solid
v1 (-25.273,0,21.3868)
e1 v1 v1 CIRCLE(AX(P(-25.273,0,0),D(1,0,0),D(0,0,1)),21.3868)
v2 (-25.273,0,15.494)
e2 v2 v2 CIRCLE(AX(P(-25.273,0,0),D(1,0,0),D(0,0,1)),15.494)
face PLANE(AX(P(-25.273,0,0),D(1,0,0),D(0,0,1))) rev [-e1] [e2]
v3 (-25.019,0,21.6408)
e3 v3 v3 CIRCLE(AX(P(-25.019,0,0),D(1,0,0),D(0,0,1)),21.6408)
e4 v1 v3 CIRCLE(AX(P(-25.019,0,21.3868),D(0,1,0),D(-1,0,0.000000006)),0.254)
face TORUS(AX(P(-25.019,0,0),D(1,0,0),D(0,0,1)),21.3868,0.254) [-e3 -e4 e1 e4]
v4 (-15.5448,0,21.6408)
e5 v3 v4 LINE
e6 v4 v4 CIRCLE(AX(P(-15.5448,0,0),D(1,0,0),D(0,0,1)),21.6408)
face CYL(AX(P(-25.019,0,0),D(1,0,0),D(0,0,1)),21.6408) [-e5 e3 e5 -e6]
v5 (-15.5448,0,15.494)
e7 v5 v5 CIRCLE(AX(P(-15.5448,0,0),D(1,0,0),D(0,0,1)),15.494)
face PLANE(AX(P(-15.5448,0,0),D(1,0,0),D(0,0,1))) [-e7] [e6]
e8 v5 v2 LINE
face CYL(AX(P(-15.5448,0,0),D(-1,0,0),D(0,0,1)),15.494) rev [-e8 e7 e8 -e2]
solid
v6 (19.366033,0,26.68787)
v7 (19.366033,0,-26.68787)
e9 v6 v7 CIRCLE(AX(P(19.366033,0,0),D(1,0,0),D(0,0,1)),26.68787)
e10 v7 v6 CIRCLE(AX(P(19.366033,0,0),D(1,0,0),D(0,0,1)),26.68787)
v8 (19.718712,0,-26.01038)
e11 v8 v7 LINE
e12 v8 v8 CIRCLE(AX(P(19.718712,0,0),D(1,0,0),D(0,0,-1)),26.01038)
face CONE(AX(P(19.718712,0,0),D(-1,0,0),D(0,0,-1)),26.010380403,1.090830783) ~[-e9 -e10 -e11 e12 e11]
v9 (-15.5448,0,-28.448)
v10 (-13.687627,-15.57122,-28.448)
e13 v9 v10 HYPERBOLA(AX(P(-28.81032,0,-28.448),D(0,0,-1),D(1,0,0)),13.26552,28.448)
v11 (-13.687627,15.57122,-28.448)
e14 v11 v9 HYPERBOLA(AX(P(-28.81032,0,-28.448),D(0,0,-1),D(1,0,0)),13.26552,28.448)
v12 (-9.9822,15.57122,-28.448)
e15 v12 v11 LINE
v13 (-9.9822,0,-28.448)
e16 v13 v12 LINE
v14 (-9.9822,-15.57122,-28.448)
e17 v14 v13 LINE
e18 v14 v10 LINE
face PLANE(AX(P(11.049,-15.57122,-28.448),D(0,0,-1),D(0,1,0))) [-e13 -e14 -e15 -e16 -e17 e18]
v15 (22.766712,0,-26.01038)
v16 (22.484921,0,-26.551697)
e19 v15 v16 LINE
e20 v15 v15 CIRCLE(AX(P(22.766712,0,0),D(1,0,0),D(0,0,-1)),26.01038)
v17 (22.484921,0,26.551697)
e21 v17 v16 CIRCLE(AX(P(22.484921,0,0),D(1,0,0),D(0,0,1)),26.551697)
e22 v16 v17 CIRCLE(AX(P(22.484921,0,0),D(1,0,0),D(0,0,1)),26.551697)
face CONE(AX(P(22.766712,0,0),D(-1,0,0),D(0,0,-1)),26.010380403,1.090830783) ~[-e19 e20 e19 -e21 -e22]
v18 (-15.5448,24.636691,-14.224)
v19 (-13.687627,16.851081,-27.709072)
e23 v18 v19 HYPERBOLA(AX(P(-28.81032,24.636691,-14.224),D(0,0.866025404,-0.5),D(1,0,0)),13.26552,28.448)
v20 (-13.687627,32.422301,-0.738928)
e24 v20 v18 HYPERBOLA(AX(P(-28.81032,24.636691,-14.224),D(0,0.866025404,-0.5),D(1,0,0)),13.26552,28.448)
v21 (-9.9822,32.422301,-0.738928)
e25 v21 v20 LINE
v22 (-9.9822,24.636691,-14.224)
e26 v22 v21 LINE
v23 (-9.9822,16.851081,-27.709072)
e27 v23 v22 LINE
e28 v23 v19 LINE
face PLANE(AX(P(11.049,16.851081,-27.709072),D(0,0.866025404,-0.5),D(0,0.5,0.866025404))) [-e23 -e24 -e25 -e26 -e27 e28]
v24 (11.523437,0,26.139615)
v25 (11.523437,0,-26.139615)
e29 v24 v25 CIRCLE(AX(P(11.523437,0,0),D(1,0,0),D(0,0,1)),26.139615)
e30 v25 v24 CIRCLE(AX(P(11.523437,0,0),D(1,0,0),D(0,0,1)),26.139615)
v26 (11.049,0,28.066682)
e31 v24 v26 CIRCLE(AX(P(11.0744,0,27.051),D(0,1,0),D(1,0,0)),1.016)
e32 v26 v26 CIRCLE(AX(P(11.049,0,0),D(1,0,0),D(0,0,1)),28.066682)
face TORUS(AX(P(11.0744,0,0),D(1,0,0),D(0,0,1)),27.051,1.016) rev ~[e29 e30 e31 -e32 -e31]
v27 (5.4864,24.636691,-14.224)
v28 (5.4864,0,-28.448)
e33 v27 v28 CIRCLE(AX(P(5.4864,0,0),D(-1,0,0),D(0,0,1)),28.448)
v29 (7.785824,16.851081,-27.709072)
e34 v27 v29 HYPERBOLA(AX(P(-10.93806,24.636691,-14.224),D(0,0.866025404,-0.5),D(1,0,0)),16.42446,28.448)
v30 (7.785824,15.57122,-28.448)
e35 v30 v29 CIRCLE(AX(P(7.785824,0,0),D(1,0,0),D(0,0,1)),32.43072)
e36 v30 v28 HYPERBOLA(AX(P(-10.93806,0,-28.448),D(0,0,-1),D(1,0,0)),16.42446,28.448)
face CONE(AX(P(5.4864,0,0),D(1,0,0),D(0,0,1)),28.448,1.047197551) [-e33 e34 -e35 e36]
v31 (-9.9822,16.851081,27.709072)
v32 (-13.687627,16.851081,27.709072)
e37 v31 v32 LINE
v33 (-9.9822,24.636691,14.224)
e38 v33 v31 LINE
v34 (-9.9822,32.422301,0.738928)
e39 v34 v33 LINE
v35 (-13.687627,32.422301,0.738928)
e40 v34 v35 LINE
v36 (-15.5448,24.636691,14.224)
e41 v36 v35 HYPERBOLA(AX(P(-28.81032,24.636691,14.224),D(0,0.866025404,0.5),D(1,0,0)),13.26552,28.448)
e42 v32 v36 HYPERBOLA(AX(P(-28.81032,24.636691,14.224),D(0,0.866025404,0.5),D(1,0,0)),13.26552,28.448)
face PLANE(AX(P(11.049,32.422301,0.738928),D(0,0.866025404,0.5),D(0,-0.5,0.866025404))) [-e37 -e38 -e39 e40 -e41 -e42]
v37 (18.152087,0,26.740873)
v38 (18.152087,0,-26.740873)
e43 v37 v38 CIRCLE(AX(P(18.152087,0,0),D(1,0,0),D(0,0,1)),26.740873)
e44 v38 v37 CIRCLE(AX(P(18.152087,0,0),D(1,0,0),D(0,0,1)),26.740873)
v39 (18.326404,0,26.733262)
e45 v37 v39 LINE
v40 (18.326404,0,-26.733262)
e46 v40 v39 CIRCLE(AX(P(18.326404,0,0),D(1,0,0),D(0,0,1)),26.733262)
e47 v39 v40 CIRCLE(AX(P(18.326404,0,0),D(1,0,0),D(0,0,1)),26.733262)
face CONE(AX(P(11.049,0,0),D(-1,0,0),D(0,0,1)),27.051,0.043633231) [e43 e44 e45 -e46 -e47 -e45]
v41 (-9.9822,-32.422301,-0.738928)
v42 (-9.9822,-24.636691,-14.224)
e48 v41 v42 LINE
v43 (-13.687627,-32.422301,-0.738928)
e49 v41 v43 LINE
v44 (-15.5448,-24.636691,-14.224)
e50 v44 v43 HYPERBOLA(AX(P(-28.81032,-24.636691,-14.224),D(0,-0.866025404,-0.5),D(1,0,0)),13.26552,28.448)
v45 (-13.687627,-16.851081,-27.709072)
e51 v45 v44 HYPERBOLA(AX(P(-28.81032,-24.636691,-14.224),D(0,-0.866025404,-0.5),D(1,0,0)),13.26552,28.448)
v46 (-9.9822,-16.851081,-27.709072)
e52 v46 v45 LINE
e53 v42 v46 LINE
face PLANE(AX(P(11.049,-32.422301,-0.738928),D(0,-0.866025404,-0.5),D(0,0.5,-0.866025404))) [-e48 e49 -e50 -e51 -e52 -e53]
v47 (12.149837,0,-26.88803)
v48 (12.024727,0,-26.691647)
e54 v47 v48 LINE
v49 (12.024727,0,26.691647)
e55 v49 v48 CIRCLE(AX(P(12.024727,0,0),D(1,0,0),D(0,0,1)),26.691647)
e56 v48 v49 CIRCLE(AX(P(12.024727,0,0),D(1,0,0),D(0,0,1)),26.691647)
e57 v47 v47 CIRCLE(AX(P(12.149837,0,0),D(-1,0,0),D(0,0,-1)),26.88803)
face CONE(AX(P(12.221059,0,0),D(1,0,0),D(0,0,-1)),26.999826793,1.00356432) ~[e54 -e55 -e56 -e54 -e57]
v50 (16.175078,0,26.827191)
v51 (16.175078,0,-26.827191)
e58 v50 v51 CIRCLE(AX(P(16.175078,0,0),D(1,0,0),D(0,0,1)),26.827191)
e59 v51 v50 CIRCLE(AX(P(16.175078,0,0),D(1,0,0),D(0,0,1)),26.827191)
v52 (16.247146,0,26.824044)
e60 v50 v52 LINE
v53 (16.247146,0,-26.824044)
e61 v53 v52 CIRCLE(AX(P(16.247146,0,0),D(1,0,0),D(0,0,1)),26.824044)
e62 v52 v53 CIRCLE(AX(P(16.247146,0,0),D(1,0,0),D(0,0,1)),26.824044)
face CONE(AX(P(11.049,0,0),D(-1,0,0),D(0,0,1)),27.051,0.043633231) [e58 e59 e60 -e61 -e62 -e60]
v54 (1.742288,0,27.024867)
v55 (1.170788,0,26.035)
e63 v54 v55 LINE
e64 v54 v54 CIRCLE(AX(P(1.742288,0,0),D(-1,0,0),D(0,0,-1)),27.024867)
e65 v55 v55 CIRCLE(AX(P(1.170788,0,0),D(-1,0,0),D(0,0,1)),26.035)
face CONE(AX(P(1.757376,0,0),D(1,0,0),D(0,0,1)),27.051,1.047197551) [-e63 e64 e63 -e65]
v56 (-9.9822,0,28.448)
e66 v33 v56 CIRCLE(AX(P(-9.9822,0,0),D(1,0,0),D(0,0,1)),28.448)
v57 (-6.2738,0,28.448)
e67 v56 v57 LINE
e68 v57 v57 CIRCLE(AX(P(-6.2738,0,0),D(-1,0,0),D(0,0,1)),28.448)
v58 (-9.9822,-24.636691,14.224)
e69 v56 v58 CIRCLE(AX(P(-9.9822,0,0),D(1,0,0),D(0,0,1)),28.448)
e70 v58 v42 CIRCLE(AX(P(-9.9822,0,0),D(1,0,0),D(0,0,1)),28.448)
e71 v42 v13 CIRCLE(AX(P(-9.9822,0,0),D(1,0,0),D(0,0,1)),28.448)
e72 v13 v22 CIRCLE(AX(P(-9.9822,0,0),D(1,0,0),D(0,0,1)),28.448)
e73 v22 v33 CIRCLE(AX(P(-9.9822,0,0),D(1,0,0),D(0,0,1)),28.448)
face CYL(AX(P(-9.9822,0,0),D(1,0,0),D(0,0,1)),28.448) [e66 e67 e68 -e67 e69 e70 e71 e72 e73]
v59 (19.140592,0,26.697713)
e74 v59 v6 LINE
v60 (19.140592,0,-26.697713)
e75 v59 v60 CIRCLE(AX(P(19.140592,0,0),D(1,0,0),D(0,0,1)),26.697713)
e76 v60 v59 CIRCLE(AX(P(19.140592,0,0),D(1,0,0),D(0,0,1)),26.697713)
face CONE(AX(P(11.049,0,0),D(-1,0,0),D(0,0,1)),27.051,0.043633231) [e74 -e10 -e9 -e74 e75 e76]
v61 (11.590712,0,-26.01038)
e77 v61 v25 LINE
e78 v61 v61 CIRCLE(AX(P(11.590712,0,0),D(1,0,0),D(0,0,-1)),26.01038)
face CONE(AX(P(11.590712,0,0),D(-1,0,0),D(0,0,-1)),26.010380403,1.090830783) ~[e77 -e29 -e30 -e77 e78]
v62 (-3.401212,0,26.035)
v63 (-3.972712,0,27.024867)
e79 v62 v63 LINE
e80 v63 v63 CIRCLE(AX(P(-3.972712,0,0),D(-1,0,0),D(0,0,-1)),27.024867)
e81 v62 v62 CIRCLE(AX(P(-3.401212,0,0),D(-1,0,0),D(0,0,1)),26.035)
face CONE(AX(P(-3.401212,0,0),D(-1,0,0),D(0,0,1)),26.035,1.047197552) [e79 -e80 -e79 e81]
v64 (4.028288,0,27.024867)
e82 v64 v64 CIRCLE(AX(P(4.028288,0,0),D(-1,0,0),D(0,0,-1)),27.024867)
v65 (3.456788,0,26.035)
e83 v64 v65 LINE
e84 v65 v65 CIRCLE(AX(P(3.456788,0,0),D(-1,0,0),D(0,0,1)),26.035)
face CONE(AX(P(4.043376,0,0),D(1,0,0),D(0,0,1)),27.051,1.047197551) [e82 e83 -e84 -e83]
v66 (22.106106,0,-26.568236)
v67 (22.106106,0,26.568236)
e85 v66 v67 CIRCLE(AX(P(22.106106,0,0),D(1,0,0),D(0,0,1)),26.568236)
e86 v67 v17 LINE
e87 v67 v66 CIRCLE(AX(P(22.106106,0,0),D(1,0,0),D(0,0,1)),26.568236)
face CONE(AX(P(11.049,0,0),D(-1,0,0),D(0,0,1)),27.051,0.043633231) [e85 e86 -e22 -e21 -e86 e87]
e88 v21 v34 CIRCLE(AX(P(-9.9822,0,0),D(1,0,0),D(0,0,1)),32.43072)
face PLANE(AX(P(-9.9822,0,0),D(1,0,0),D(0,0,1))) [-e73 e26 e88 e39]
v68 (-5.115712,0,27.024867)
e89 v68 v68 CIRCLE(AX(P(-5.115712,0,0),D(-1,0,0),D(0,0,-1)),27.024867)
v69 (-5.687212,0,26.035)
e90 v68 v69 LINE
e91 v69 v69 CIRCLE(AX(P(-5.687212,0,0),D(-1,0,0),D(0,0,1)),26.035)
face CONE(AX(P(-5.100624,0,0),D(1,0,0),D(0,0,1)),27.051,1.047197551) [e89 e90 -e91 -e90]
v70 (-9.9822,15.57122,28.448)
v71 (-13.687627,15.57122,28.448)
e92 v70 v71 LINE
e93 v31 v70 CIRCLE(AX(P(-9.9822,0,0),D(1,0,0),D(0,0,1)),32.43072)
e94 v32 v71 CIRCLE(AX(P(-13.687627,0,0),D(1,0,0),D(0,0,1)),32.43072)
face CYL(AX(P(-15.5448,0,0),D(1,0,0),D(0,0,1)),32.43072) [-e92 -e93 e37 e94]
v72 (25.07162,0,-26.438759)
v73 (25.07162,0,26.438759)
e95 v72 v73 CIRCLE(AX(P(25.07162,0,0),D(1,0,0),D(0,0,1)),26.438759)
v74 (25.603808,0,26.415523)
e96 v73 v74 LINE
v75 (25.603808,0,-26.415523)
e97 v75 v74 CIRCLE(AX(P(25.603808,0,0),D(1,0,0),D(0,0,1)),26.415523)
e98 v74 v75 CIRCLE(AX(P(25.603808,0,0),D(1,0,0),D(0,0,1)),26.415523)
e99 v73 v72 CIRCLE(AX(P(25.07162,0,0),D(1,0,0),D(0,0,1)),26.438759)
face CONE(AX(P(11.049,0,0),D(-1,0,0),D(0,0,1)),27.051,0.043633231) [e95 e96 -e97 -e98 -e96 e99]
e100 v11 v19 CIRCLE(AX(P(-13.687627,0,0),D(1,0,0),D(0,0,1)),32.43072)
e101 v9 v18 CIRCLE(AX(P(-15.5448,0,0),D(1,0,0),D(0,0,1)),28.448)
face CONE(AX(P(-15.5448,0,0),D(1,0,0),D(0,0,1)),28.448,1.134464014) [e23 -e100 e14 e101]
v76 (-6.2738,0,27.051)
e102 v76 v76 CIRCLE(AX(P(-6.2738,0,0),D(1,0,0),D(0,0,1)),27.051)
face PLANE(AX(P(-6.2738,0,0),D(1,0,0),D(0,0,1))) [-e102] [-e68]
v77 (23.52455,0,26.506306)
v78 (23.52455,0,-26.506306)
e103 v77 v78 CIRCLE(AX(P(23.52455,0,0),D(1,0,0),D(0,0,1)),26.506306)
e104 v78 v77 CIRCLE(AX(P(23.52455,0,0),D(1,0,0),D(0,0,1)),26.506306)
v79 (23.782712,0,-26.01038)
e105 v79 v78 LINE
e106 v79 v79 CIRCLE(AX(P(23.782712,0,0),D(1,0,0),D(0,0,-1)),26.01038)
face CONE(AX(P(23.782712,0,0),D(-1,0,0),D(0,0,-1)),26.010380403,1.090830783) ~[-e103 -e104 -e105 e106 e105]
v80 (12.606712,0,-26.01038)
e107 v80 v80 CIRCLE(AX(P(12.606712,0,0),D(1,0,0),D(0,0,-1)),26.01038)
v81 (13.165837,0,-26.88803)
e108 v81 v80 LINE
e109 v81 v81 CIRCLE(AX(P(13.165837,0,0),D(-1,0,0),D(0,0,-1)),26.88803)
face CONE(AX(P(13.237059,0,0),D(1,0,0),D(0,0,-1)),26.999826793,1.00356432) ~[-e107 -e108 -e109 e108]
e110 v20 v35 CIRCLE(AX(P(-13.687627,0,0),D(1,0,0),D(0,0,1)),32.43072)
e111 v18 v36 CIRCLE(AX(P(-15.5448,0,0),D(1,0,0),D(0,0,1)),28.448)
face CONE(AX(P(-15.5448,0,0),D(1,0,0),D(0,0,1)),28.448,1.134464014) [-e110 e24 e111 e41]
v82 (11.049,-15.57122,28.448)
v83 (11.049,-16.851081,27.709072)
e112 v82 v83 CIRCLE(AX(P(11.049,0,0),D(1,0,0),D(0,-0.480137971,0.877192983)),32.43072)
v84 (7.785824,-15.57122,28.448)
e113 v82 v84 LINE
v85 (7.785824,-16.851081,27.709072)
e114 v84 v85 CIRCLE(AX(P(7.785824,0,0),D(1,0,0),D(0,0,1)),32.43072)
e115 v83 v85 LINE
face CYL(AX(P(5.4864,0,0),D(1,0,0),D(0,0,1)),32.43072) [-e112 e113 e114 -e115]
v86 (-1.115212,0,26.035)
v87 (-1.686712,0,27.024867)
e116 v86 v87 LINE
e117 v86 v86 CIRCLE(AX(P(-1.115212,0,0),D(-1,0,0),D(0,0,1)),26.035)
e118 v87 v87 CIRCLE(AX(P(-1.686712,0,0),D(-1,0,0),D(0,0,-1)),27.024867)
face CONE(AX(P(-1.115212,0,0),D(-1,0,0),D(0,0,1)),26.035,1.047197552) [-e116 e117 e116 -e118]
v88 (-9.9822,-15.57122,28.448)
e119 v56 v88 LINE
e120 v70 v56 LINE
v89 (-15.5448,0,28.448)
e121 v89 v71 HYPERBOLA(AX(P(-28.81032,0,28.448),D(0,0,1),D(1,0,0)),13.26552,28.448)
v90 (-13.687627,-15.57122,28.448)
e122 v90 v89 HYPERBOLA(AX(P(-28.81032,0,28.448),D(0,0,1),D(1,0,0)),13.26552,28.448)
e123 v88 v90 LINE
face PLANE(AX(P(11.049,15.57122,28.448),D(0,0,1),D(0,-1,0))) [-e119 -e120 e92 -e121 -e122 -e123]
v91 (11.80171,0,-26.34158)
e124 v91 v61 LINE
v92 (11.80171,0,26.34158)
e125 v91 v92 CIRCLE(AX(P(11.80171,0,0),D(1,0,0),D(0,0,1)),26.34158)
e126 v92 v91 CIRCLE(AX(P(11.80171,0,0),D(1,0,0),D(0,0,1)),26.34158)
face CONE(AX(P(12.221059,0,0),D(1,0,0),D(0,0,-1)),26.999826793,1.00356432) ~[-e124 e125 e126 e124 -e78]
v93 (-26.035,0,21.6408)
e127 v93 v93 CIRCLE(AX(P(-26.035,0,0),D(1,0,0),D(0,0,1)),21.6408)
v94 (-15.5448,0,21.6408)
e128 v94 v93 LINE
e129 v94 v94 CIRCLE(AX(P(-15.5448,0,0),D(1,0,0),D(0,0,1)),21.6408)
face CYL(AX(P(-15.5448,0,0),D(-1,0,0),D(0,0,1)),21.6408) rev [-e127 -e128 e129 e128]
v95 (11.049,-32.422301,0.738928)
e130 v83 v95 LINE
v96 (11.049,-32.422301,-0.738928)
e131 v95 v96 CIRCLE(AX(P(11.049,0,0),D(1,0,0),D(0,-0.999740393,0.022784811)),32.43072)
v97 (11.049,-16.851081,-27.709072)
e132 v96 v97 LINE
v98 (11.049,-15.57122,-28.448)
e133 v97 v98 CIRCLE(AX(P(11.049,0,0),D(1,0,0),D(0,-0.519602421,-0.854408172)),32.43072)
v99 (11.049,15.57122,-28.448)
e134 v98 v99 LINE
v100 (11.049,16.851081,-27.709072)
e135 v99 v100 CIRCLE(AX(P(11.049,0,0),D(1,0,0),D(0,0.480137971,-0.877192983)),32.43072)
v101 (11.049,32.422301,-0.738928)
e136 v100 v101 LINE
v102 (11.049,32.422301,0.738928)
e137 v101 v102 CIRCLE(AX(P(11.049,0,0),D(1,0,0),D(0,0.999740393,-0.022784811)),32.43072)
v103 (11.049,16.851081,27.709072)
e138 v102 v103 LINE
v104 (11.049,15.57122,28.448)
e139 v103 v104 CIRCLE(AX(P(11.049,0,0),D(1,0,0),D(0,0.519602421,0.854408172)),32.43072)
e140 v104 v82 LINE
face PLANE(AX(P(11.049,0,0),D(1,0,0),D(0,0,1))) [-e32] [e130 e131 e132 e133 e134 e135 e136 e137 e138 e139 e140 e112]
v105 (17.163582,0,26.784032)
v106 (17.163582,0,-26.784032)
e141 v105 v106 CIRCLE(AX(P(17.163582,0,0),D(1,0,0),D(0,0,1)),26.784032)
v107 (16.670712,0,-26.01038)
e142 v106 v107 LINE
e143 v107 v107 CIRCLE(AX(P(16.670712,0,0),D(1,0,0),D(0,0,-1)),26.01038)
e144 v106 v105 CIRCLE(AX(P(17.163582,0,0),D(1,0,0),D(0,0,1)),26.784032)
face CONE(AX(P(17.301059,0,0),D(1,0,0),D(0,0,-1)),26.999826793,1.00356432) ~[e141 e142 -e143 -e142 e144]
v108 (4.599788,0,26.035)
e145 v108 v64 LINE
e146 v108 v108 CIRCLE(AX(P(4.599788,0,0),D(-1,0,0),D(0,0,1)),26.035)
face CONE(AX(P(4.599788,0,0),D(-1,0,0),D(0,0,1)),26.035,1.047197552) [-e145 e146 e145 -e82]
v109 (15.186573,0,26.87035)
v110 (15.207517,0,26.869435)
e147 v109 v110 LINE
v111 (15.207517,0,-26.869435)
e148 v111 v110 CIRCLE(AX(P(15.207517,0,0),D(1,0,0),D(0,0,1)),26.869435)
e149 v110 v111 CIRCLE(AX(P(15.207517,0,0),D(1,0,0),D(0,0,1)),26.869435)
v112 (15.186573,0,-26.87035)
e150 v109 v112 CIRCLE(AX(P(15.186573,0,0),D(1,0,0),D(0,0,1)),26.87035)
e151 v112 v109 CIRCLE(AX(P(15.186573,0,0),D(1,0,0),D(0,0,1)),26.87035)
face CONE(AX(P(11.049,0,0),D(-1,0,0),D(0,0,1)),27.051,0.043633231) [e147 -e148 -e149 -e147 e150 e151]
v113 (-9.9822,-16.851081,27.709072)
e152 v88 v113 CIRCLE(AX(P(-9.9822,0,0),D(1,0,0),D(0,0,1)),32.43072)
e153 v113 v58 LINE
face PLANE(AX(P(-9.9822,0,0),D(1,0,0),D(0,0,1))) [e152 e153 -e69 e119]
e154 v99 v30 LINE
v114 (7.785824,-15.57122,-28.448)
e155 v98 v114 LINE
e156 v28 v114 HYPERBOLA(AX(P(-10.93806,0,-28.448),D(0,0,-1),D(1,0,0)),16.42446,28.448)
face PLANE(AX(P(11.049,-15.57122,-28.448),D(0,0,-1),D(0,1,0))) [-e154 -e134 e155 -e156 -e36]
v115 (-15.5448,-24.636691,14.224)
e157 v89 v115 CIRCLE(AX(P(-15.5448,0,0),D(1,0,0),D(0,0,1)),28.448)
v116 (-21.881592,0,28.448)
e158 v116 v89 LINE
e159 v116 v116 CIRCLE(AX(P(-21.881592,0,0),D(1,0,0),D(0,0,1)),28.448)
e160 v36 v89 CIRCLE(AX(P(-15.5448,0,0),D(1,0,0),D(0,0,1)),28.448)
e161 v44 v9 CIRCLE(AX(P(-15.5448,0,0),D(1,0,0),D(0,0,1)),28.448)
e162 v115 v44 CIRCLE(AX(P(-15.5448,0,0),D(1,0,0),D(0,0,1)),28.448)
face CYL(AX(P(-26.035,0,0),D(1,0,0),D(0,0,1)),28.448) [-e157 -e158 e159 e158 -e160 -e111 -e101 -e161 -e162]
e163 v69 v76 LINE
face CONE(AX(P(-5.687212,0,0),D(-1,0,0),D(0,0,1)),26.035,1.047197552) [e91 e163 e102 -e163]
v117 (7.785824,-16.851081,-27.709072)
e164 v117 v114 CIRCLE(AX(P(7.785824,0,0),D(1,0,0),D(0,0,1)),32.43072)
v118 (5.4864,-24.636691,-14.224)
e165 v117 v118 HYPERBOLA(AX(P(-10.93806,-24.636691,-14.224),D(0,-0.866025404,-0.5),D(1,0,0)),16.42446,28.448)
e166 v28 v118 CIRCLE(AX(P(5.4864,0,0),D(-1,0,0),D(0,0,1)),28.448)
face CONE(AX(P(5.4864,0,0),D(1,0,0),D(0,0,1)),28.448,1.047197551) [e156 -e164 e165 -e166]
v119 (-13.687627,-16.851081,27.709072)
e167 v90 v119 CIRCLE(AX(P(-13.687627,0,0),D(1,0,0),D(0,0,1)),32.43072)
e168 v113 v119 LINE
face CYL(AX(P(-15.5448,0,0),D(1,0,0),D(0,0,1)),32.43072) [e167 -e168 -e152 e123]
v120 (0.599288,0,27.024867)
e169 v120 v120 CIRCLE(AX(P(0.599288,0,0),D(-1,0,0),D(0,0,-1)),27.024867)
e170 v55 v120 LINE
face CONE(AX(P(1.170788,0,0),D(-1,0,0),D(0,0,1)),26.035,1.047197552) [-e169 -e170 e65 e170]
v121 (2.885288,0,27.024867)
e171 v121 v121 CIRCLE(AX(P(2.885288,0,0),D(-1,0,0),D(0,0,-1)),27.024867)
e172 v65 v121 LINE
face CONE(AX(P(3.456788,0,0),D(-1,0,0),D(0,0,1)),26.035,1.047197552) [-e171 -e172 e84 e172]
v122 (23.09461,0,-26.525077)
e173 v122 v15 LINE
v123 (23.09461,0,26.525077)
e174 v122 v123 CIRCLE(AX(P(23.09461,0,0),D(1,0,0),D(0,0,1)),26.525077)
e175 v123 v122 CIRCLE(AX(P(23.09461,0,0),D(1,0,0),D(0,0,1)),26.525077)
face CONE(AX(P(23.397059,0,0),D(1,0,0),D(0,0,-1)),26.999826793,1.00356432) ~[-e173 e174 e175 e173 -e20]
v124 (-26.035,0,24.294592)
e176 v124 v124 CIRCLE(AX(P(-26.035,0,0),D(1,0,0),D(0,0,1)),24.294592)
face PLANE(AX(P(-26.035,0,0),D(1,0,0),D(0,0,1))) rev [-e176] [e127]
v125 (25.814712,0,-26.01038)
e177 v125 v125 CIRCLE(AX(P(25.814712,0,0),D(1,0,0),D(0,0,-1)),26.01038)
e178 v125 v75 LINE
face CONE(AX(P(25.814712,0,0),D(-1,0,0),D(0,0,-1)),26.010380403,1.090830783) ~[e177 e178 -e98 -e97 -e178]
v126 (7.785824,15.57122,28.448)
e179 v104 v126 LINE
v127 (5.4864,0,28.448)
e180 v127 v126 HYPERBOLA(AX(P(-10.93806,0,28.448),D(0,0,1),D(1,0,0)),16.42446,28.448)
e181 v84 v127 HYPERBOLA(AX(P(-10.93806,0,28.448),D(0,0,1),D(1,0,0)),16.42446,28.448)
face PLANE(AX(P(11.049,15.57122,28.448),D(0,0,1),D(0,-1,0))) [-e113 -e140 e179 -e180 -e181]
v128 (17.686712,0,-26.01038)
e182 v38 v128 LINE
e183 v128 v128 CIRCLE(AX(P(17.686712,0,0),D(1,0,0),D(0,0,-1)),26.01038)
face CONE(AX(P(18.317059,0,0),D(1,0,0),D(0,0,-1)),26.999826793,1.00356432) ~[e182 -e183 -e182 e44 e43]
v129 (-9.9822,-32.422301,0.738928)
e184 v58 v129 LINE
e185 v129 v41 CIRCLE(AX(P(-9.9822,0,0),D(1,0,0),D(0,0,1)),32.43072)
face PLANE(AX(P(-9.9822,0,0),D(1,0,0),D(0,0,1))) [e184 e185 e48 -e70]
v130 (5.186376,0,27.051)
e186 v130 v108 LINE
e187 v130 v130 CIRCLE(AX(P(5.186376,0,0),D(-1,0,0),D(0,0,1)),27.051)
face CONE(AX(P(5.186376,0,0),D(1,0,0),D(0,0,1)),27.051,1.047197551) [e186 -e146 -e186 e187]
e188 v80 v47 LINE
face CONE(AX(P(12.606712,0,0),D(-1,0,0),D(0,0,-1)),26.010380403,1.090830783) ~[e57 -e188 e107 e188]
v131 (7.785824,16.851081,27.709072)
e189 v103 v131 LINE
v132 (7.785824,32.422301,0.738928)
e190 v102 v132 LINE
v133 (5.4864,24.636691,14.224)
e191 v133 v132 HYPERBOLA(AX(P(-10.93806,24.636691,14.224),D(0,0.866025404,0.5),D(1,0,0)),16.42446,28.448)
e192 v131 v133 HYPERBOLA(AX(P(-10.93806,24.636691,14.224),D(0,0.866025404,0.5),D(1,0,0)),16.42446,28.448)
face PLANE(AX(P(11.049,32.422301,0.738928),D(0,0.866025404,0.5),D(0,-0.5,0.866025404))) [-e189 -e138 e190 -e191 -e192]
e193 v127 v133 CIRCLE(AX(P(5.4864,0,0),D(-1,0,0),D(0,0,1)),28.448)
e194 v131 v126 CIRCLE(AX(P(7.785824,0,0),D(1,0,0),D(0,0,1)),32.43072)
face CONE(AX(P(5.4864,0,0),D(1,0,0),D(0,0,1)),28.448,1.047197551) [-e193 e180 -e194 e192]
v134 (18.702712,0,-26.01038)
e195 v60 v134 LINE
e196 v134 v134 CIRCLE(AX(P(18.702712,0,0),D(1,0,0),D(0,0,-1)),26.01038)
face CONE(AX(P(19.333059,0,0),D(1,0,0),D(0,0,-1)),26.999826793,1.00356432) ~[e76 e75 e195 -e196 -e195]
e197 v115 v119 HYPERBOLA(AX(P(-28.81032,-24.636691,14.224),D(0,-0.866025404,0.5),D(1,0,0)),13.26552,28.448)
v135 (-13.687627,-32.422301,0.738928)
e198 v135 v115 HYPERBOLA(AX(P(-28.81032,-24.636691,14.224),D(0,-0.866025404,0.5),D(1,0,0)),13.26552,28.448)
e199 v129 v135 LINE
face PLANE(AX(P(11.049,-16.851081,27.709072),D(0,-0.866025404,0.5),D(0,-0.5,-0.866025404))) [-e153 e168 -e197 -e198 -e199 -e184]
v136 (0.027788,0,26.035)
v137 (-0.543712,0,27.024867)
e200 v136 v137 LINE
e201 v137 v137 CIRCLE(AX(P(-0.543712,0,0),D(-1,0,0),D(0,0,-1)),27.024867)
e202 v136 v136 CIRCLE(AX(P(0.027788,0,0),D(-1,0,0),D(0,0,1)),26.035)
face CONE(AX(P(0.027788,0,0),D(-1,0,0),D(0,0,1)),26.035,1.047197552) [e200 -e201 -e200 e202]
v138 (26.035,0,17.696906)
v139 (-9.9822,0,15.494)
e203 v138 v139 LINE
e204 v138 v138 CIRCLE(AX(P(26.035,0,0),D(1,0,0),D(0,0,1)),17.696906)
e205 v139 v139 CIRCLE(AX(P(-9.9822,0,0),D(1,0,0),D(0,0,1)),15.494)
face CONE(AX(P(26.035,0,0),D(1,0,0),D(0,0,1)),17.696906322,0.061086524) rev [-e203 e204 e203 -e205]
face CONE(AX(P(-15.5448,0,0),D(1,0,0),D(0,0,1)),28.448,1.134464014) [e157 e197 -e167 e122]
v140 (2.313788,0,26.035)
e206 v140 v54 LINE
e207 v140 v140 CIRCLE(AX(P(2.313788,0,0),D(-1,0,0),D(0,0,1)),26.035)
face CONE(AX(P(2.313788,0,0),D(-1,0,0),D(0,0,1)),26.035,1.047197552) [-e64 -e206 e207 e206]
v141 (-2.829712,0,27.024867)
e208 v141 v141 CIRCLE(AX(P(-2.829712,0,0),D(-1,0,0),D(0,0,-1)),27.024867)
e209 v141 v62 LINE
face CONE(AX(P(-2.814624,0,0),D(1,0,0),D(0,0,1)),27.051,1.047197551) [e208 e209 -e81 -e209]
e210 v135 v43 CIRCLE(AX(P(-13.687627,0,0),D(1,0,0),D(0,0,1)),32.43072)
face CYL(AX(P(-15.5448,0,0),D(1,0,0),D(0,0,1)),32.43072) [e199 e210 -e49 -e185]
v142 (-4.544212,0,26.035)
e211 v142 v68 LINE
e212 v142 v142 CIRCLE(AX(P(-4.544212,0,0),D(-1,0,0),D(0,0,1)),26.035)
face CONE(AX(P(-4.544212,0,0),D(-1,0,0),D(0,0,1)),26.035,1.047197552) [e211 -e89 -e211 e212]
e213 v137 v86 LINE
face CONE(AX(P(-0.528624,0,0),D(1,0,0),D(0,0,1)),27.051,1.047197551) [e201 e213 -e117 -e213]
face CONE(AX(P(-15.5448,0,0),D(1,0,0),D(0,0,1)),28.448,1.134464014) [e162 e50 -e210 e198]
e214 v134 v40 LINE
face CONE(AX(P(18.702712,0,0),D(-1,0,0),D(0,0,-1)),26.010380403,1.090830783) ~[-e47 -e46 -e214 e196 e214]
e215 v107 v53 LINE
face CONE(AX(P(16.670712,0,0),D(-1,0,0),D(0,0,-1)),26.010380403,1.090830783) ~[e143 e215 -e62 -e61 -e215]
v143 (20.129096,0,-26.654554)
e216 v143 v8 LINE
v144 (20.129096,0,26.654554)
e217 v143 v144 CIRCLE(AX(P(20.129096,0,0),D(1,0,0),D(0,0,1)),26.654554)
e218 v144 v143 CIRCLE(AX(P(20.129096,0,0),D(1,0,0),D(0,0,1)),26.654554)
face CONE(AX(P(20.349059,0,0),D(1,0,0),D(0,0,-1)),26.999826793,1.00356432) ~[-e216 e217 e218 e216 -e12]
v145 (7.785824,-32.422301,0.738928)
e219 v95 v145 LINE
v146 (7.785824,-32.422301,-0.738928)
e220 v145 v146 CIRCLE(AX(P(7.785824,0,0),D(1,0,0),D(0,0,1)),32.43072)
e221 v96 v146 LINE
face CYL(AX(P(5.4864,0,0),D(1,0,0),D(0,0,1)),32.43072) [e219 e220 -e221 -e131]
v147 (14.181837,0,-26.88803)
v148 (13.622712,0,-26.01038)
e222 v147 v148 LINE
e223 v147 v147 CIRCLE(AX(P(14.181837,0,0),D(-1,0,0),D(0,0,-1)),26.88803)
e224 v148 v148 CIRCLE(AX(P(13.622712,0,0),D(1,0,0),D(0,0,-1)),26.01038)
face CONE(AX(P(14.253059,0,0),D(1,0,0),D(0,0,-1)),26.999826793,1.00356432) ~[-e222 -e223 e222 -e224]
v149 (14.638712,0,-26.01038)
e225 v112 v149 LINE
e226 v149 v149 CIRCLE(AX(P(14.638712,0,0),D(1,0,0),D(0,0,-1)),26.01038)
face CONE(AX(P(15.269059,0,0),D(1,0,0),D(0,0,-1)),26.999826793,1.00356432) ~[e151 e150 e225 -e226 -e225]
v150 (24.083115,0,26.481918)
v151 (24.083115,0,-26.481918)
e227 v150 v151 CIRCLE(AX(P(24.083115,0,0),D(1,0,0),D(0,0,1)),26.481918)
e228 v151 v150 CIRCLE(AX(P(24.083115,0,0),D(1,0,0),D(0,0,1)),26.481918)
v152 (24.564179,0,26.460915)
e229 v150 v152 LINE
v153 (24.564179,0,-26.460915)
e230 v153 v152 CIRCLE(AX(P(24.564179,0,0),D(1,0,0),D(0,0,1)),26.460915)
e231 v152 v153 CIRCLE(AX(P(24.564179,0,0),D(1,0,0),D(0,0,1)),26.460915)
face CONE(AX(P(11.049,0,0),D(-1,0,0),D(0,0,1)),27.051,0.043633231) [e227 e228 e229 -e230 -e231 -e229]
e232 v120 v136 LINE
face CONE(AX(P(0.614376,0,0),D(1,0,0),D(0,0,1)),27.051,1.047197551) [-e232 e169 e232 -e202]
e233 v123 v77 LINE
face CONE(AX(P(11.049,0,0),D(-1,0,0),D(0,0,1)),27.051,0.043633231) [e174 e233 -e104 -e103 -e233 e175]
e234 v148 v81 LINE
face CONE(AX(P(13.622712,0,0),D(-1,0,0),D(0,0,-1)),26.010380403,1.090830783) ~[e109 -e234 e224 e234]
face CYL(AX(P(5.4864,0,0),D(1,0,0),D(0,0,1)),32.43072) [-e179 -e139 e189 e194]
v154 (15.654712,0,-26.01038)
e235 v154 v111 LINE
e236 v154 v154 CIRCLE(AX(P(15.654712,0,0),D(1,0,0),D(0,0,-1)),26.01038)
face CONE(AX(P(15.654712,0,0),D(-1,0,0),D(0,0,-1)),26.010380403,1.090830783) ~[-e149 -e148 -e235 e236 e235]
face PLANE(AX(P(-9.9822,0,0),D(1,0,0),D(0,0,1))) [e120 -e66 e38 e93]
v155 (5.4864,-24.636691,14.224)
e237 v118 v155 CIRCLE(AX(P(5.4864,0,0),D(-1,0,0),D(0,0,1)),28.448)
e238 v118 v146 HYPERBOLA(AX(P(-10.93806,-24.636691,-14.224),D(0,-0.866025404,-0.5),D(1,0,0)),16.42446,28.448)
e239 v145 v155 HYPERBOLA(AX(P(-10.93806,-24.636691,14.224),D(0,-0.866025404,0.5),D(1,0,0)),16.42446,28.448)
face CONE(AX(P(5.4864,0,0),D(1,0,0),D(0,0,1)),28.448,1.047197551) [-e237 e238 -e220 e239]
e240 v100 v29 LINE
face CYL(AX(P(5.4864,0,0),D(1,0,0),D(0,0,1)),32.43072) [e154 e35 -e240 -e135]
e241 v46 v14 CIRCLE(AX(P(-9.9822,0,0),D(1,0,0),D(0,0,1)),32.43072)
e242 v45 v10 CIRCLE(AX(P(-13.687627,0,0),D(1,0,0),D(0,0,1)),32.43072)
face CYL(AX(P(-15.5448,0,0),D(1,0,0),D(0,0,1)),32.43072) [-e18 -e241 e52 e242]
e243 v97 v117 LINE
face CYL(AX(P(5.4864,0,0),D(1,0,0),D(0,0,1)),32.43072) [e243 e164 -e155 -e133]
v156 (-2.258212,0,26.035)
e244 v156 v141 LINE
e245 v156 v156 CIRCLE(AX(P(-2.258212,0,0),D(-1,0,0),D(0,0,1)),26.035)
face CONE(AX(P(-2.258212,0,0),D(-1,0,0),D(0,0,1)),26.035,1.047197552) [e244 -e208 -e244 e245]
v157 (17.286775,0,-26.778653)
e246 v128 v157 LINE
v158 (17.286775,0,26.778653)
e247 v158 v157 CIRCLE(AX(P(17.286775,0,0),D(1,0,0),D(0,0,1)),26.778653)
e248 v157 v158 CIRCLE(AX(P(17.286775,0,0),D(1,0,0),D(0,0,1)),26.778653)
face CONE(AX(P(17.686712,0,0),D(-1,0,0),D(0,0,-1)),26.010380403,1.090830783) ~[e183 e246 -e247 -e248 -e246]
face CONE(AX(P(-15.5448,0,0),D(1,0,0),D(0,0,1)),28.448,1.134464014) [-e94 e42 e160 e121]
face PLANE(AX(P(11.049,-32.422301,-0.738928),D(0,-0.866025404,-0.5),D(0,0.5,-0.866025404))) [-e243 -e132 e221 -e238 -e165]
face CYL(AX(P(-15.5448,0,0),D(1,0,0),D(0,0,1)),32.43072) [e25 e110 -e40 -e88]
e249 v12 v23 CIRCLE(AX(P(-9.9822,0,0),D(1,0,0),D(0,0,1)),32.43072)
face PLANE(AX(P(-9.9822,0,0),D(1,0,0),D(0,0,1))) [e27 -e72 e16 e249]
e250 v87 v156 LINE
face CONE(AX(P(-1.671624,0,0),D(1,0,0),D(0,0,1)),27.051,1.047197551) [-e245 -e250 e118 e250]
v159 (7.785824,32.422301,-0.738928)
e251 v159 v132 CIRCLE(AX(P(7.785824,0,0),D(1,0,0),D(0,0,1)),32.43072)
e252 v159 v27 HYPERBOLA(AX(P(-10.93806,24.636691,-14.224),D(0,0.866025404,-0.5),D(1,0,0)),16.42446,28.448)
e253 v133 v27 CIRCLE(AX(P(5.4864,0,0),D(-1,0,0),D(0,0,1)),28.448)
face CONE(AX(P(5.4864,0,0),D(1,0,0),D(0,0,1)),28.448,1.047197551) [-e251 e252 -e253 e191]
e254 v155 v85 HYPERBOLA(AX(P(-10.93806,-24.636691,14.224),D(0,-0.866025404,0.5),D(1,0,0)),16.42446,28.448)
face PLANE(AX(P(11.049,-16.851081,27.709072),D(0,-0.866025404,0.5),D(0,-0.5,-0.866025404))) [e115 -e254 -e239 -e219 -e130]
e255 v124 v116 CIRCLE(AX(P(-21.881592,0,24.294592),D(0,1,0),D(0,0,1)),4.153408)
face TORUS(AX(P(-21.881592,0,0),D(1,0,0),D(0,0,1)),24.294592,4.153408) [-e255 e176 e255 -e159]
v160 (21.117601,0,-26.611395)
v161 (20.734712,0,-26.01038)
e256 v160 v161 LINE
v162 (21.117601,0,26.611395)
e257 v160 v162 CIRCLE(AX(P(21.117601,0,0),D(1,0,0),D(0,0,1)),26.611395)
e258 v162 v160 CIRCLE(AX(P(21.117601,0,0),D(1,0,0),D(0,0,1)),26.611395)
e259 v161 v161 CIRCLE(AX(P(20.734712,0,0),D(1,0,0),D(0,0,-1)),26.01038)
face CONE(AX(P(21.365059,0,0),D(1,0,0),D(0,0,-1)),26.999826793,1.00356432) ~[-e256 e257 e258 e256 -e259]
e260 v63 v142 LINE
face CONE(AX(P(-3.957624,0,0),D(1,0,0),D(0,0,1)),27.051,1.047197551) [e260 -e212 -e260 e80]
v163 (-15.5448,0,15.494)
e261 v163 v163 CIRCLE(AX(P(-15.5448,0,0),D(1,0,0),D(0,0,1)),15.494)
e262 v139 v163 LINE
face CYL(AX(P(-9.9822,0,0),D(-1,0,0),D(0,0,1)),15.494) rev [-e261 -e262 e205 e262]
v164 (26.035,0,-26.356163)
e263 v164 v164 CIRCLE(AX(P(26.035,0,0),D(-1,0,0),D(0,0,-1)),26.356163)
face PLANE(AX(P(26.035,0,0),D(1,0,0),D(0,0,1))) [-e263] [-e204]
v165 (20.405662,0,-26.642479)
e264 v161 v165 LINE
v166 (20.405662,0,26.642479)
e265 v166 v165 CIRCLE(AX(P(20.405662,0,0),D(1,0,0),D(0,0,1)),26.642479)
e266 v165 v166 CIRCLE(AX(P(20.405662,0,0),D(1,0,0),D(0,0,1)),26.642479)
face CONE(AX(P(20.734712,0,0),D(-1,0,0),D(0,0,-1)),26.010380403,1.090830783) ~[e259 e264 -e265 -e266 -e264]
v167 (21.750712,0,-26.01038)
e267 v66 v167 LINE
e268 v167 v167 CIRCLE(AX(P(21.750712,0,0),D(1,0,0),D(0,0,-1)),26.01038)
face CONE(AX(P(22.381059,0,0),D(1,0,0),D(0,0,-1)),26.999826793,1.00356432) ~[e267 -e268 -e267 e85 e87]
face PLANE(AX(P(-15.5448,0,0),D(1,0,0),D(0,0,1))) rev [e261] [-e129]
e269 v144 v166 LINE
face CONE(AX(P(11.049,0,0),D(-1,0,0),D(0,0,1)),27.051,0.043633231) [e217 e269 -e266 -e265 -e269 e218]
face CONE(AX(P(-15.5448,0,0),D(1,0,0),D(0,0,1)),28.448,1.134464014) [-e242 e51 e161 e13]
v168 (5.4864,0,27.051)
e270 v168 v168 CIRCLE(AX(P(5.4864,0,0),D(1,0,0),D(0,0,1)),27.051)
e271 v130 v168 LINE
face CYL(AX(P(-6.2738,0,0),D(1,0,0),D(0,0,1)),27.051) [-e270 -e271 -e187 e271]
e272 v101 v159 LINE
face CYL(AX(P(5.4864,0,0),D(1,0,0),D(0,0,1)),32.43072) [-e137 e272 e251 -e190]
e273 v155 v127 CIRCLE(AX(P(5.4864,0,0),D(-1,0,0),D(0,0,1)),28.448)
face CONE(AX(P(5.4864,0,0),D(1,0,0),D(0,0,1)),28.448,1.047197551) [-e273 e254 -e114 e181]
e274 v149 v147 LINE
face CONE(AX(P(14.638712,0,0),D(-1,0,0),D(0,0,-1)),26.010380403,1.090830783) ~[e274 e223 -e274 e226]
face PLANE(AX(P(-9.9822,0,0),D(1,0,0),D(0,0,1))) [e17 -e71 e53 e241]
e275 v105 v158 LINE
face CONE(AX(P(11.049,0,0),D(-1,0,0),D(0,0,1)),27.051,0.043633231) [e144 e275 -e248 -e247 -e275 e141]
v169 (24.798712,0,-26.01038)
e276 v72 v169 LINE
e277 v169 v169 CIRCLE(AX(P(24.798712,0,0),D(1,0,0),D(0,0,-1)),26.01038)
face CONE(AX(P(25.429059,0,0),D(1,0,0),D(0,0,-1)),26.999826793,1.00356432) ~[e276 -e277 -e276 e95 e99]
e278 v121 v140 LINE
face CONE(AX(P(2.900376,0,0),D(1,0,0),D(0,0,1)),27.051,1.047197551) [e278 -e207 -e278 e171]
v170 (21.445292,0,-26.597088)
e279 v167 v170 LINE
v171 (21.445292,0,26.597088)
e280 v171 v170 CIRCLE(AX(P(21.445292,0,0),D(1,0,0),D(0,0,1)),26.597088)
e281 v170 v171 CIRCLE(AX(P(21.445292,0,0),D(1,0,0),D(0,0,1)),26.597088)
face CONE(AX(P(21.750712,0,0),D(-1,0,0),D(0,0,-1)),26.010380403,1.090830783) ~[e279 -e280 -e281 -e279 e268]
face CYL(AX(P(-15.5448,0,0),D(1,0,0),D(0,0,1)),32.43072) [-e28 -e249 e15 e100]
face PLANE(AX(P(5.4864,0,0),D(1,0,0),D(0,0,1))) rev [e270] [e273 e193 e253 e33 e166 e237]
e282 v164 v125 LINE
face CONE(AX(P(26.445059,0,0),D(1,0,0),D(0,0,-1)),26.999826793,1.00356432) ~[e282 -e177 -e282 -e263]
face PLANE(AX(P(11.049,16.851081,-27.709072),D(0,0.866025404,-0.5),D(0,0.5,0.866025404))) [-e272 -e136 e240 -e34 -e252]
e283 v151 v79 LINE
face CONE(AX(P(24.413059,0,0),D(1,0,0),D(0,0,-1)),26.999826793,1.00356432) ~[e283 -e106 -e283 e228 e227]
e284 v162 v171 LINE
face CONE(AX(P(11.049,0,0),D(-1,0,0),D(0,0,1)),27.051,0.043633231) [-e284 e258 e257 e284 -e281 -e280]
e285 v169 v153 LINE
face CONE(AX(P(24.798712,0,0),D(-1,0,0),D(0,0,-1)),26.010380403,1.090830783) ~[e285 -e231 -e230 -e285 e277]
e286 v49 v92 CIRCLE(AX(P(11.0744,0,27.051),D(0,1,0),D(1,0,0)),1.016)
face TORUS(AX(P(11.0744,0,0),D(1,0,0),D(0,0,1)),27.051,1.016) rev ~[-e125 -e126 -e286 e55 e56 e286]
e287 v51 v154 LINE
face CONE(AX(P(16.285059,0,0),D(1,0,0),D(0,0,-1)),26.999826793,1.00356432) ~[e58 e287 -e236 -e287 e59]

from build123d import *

# Parameters (mm, degrees)
SKETCH6_OUTSIDE_W  = 87.958
SKETCH6_OUTSIDE_H  = 87.958
CUT_EXTRUDE2_DEPTH = 26.5938
SKETCH7_OUTSIDE_W  = 89.944
SKETCH7_OUTSIDE_H  = 97.91
SKETCH7_OUTSIDE_R  = 28.448
CUT_EXTRUDE3_DEPTH = 2.54
CUT_EXTRUDE3_DRAFT = -65
SKETCH9_OUTSIDE_W  = 153.698
SKETCH9_OUTSIDE_H  = 161.664
SKETCH9_OUTSIDE_R  = 28.448
CUT_EXTRUDE5_DEPTH = 21.5486
CUT_EXTRUDE5_DRAFT = -60
LPATTERN1_COUNT    = 10
LPATTERN1_PITCH    = 1.143
LPATTERN2_COUNT    = 15
LPATTERN2_PITCH    = 1.016
FILLET1_R          = 4.153408
SKETCH17_R         = 1.016


with BuildPart() as part:
    # Sketch2 → Revolve1 (revolve)
    with BuildSketch(Plane.XY, mode=Mode.PRIVATE) as revolve1_sk:
        Polygon((-26.035, 21.6408), (-26.035, 28.448), (-15.5448, 28.448), (-15.5448, 32.43072), (-9.9822, 32.43072), (-9.9822, 28.448), (-6.2738, 28.448), (-6.2738, 27.051), (5.4864, 27.051), (5.4864, 32.43072), (11.049, 32.43072), (11.049, 27.051), (26.035, 26.39669711), (26.035, 17.696906322), (-9.9822, 15.494), (-15.5448, 15.494), (-15.5448, 21.6408), align=None)
    revolve(revolve1_sk.sketch.rotate(Axis((-69.075133251, 0, 0), (1, 0, 0)), 90), axis=Axis((-69.075133251, 0, 0), (1, 0, 0)))  # turned: the seam where the file's is

    # Sketch6 outside → Cut-Extrude2 (cut)
    with BuildSketch(Plane(origin=(11.049, 0, 0), x_dir=(0, 0, -1), z_dir=(1, 0, 0))):
        Rectangle(SKETCH6_OUTSIDE_W, SKETCH6_OUTSIDE_H)
        with BuildLine():
            Line((28.448, -15.57122011), (28.448, 15.57122011))
            ThreePointArc((28.448, 15.57122011), (28.085827383, 16.21536), (27.709072183, 16.851080632))
            Line((27.709072183, 16.851080632), (0.738927817, 32.422300742))
            ThreePointArc((0.738927817, 32.422300742), (0, 32.43072), (-0.738927817, 32.422300742))
            Line((-0.738927817, 32.422300742), (-27.709072183, 16.851080632))
            ThreePointArc((-27.709072183, 16.851080632), (-28.085827383, 16.21536), (-28.448, 15.57122011))
            Line((-28.448, 15.57122011), (-28.448, -15.57122011))
            ThreePointArc((-28.448, -15.57122011), (-28.085827383, -16.21536), (-27.709072183, -16.851080632))
            Line((-27.709072183, -16.851080632), (-0.738927817, -32.422300742))
            ThreePointArc((-0.738927817, -32.422300742), (0, -32.43072), (0.738927817, -32.422300742))
            Line((0.738927817, -32.422300742), (27.709072183, -16.851080632))
            ThreePointArc((27.709072183, -16.851080632), (28.085827383, -16.21536), (28.448, -15.57122011))
        make_face(mode=Mode.SUBTRACT)
    extrude(amount=-CUT_EXTRUDE2_DEPTH, mode=Mode.SUBTRACT)


with BuildPart() as cut_extrude3_tool:
    # Sketch7 outside → Cut-Extrude3 (with draft: the straight prism first)
    with BuildSketch(Plane.ZY.offset(15.5448)):
        Rectangle(SKETCH7_OUTSIDE_W, SKETCH7_OUTSIDE_H)
        Circle(SKETCH7_OUTSIDE_R, mode=Mode.SUBTRACT)
    extrude(amount=-CUT_EXTRUDE3_DEPTH)
    # Cut-Extrude3: the draft: its side faces are tilted about the plane it starts from
    cut_extrude3_sides = [cut_extrude3_tool.faces().sort_by_distance(p)[0] for p in [
        (-14.2748, -48.955, 0),
        (-14.2748, 0, 44.972),
        (-14.2748, 48.955, 0),
        (-14.2748, 0, -44.972),
        (-14.2748, 0, -28.448),
    ]]
    draft(cut_extrude3_sides, Plane.ZY.offset(15.5448), CUT_EXTRUDE3_DRAFT)


with BuildPart() as part_1:
    add(part.part)

    # Cut-Extrude3: cut by cut_extrude3_tool
    add(cut_extrude3_tool.part, mode=Mode.SUBTRACT)


with BuildPart() as cut_extrude5_tool:
    # Sketch9 outside → Cut-Extrude5 (with draft: the straight prism first)
    with BuildSketch(Plane.ZY.offset(-5.4864)):
        Rectangle(SKETCH9_OUTSIDE_W, SKETCH9_OUTSIDE_H)
        Circle(SKETCH9_OUTSIDE_R, mode=Mode.SUBTRACT)
    extrude(amount=-CUT_EXTRUDE5_DEPTH)
    # Cut-Extrude5: the draft: its side faces are tilted about the plane it starts from
    cut_extrude5_sides = [cut_extrude5_tool.faces().sort_by_distance(p)[0] for p in [
        (16.2607, -80.832, 0),
        (16.2607, 0, 76.849),
        (16.2607, 80.832, 0),
        (16.2607, 0, -76.849),
        (16.2607, 0, -28.448),
    ]]
    draft(cut_extrude5_sides, Plane.ZY.offset(-5.4864), CUT_EXTRUDE5_DRAFT)


with BuildPart() as part_2:
    add(part_1.part)

    # Cut-Extrude5: cut by cut_extrude5_tool
    add(cut_extrude5_tool.part, mode=Mode.SUBTRACT)

    # Sketch14 → Cut-Revolve1 (revolve, cut)
    with BuildSketch(Plane.XY, mode=Mode.PRIVATE) as cut_revolve1_sk:
        Polygon((-6.2738, 27.051), (-5.100624253, 27.051), (-5.687212127, 26.035), align=None)
    cut_revolve1 = revolve(cut_revolve1_sk.sketch.rotate(Axis((0, 0, 0), (-1, 0, 0)), 270), axis=Axis((0, 0, 0), (-1, 0, 0)), mode=Mode.SUBTRACT)  # turned: the seam where the file's is

    # LPattern1: Cut-Revolve1 ×10
    with Locations(*[(i * LPATTERN1_PITCH, 0, 0) for i in range(1, LPATTERN1_COUNT)]):
        add(cut_revolve1, mode=Mode.SUBTRACT)

    # Sketch15 → Cut-Revolve2 (revolve, cut)
    with BuildSketch(Plane.XY, mode=Mode.PRIVATE) as cut_revolve2_sk:
        Polygon((11.049, 27.051), (12.221059144, 26.999826793), (11.590712274, 26.010380403), align=None)
    cut_revolve2 = revolve(cut_revolve2_sk.sketch.rotate(Axis((0, 0, 0), (1, 0, 0)), 270), axis=Axis((0, 0, 0), (1, 0, 0)), mode=Mode.SUBTRACT)  # turned: the seam where the file's is

    # LPattern2: Cut-Revolve2 ×15
    with Locations(*[(i * LPATTERN2_PITCH, 0, 0) for i in range(1, LPATTERN2_COUNT)]):
        add(cut_revolve2, mode=Mode.SUBTRACT)

    # Fillet1
    fillet1_edges = [part_2.edges().sort_by_distance(p)[0] for p in [
        (-26.035, 0, -28.448),
    ]]
    fillet(fillet1_edges, radius=FILLET1_R)

    # Sketch17 → Cut-Revolve3 (revolve, cut)
    with BuildSketch(Plane.XY, mode=Mode.PRIVATE) as cut_revolve3_sk:
        with Locations((11.0744, -27.051)):
            Circle(SKETCH17_R)
    revolve(cut_revolve3_sk.sketch.rotate(Axis((-69.075133251, 0, 0), (1, 0, 0)), 270), axis=Axis((-69.075133251, 0, 0), (1, 0, 0)), mode=Mode.SUBTRACT)  # turned: the seam where the file's is


with BuildPart() as body_2:
    # Sketch16 → Revolve4 (revolve)
    with BuildSketch(Plane.XY, mode=Mode.PRIVATE) as revolve4_sk:
        with BuildLine():
            Line((-25.019, 21.6408), (-15.5448, 21.6408))
            Line((-15.5448, 21.6408), (-15.5448, 15.494))
            Line((-15.5448, 15.494), (-25.273, 15.494))
            Line((-25.273, 15.494), (-25.273, 21.3868))
            ThreePointArc((-25.273, 21.3868), (-25.198605122, 21.566405122), (-25.019, 21.6408))
        make_face()
    revolve(revolve4_sk.sketch.rotate(Axis((-69.075133251, 0, 0), (1, 0, 0)), 90), axis=Axis((-69.075133251, 0, 0), (1, 0, 0)))  # turned: the seam where the file's is


solid = Compound([part_2.part, body_2.part])
